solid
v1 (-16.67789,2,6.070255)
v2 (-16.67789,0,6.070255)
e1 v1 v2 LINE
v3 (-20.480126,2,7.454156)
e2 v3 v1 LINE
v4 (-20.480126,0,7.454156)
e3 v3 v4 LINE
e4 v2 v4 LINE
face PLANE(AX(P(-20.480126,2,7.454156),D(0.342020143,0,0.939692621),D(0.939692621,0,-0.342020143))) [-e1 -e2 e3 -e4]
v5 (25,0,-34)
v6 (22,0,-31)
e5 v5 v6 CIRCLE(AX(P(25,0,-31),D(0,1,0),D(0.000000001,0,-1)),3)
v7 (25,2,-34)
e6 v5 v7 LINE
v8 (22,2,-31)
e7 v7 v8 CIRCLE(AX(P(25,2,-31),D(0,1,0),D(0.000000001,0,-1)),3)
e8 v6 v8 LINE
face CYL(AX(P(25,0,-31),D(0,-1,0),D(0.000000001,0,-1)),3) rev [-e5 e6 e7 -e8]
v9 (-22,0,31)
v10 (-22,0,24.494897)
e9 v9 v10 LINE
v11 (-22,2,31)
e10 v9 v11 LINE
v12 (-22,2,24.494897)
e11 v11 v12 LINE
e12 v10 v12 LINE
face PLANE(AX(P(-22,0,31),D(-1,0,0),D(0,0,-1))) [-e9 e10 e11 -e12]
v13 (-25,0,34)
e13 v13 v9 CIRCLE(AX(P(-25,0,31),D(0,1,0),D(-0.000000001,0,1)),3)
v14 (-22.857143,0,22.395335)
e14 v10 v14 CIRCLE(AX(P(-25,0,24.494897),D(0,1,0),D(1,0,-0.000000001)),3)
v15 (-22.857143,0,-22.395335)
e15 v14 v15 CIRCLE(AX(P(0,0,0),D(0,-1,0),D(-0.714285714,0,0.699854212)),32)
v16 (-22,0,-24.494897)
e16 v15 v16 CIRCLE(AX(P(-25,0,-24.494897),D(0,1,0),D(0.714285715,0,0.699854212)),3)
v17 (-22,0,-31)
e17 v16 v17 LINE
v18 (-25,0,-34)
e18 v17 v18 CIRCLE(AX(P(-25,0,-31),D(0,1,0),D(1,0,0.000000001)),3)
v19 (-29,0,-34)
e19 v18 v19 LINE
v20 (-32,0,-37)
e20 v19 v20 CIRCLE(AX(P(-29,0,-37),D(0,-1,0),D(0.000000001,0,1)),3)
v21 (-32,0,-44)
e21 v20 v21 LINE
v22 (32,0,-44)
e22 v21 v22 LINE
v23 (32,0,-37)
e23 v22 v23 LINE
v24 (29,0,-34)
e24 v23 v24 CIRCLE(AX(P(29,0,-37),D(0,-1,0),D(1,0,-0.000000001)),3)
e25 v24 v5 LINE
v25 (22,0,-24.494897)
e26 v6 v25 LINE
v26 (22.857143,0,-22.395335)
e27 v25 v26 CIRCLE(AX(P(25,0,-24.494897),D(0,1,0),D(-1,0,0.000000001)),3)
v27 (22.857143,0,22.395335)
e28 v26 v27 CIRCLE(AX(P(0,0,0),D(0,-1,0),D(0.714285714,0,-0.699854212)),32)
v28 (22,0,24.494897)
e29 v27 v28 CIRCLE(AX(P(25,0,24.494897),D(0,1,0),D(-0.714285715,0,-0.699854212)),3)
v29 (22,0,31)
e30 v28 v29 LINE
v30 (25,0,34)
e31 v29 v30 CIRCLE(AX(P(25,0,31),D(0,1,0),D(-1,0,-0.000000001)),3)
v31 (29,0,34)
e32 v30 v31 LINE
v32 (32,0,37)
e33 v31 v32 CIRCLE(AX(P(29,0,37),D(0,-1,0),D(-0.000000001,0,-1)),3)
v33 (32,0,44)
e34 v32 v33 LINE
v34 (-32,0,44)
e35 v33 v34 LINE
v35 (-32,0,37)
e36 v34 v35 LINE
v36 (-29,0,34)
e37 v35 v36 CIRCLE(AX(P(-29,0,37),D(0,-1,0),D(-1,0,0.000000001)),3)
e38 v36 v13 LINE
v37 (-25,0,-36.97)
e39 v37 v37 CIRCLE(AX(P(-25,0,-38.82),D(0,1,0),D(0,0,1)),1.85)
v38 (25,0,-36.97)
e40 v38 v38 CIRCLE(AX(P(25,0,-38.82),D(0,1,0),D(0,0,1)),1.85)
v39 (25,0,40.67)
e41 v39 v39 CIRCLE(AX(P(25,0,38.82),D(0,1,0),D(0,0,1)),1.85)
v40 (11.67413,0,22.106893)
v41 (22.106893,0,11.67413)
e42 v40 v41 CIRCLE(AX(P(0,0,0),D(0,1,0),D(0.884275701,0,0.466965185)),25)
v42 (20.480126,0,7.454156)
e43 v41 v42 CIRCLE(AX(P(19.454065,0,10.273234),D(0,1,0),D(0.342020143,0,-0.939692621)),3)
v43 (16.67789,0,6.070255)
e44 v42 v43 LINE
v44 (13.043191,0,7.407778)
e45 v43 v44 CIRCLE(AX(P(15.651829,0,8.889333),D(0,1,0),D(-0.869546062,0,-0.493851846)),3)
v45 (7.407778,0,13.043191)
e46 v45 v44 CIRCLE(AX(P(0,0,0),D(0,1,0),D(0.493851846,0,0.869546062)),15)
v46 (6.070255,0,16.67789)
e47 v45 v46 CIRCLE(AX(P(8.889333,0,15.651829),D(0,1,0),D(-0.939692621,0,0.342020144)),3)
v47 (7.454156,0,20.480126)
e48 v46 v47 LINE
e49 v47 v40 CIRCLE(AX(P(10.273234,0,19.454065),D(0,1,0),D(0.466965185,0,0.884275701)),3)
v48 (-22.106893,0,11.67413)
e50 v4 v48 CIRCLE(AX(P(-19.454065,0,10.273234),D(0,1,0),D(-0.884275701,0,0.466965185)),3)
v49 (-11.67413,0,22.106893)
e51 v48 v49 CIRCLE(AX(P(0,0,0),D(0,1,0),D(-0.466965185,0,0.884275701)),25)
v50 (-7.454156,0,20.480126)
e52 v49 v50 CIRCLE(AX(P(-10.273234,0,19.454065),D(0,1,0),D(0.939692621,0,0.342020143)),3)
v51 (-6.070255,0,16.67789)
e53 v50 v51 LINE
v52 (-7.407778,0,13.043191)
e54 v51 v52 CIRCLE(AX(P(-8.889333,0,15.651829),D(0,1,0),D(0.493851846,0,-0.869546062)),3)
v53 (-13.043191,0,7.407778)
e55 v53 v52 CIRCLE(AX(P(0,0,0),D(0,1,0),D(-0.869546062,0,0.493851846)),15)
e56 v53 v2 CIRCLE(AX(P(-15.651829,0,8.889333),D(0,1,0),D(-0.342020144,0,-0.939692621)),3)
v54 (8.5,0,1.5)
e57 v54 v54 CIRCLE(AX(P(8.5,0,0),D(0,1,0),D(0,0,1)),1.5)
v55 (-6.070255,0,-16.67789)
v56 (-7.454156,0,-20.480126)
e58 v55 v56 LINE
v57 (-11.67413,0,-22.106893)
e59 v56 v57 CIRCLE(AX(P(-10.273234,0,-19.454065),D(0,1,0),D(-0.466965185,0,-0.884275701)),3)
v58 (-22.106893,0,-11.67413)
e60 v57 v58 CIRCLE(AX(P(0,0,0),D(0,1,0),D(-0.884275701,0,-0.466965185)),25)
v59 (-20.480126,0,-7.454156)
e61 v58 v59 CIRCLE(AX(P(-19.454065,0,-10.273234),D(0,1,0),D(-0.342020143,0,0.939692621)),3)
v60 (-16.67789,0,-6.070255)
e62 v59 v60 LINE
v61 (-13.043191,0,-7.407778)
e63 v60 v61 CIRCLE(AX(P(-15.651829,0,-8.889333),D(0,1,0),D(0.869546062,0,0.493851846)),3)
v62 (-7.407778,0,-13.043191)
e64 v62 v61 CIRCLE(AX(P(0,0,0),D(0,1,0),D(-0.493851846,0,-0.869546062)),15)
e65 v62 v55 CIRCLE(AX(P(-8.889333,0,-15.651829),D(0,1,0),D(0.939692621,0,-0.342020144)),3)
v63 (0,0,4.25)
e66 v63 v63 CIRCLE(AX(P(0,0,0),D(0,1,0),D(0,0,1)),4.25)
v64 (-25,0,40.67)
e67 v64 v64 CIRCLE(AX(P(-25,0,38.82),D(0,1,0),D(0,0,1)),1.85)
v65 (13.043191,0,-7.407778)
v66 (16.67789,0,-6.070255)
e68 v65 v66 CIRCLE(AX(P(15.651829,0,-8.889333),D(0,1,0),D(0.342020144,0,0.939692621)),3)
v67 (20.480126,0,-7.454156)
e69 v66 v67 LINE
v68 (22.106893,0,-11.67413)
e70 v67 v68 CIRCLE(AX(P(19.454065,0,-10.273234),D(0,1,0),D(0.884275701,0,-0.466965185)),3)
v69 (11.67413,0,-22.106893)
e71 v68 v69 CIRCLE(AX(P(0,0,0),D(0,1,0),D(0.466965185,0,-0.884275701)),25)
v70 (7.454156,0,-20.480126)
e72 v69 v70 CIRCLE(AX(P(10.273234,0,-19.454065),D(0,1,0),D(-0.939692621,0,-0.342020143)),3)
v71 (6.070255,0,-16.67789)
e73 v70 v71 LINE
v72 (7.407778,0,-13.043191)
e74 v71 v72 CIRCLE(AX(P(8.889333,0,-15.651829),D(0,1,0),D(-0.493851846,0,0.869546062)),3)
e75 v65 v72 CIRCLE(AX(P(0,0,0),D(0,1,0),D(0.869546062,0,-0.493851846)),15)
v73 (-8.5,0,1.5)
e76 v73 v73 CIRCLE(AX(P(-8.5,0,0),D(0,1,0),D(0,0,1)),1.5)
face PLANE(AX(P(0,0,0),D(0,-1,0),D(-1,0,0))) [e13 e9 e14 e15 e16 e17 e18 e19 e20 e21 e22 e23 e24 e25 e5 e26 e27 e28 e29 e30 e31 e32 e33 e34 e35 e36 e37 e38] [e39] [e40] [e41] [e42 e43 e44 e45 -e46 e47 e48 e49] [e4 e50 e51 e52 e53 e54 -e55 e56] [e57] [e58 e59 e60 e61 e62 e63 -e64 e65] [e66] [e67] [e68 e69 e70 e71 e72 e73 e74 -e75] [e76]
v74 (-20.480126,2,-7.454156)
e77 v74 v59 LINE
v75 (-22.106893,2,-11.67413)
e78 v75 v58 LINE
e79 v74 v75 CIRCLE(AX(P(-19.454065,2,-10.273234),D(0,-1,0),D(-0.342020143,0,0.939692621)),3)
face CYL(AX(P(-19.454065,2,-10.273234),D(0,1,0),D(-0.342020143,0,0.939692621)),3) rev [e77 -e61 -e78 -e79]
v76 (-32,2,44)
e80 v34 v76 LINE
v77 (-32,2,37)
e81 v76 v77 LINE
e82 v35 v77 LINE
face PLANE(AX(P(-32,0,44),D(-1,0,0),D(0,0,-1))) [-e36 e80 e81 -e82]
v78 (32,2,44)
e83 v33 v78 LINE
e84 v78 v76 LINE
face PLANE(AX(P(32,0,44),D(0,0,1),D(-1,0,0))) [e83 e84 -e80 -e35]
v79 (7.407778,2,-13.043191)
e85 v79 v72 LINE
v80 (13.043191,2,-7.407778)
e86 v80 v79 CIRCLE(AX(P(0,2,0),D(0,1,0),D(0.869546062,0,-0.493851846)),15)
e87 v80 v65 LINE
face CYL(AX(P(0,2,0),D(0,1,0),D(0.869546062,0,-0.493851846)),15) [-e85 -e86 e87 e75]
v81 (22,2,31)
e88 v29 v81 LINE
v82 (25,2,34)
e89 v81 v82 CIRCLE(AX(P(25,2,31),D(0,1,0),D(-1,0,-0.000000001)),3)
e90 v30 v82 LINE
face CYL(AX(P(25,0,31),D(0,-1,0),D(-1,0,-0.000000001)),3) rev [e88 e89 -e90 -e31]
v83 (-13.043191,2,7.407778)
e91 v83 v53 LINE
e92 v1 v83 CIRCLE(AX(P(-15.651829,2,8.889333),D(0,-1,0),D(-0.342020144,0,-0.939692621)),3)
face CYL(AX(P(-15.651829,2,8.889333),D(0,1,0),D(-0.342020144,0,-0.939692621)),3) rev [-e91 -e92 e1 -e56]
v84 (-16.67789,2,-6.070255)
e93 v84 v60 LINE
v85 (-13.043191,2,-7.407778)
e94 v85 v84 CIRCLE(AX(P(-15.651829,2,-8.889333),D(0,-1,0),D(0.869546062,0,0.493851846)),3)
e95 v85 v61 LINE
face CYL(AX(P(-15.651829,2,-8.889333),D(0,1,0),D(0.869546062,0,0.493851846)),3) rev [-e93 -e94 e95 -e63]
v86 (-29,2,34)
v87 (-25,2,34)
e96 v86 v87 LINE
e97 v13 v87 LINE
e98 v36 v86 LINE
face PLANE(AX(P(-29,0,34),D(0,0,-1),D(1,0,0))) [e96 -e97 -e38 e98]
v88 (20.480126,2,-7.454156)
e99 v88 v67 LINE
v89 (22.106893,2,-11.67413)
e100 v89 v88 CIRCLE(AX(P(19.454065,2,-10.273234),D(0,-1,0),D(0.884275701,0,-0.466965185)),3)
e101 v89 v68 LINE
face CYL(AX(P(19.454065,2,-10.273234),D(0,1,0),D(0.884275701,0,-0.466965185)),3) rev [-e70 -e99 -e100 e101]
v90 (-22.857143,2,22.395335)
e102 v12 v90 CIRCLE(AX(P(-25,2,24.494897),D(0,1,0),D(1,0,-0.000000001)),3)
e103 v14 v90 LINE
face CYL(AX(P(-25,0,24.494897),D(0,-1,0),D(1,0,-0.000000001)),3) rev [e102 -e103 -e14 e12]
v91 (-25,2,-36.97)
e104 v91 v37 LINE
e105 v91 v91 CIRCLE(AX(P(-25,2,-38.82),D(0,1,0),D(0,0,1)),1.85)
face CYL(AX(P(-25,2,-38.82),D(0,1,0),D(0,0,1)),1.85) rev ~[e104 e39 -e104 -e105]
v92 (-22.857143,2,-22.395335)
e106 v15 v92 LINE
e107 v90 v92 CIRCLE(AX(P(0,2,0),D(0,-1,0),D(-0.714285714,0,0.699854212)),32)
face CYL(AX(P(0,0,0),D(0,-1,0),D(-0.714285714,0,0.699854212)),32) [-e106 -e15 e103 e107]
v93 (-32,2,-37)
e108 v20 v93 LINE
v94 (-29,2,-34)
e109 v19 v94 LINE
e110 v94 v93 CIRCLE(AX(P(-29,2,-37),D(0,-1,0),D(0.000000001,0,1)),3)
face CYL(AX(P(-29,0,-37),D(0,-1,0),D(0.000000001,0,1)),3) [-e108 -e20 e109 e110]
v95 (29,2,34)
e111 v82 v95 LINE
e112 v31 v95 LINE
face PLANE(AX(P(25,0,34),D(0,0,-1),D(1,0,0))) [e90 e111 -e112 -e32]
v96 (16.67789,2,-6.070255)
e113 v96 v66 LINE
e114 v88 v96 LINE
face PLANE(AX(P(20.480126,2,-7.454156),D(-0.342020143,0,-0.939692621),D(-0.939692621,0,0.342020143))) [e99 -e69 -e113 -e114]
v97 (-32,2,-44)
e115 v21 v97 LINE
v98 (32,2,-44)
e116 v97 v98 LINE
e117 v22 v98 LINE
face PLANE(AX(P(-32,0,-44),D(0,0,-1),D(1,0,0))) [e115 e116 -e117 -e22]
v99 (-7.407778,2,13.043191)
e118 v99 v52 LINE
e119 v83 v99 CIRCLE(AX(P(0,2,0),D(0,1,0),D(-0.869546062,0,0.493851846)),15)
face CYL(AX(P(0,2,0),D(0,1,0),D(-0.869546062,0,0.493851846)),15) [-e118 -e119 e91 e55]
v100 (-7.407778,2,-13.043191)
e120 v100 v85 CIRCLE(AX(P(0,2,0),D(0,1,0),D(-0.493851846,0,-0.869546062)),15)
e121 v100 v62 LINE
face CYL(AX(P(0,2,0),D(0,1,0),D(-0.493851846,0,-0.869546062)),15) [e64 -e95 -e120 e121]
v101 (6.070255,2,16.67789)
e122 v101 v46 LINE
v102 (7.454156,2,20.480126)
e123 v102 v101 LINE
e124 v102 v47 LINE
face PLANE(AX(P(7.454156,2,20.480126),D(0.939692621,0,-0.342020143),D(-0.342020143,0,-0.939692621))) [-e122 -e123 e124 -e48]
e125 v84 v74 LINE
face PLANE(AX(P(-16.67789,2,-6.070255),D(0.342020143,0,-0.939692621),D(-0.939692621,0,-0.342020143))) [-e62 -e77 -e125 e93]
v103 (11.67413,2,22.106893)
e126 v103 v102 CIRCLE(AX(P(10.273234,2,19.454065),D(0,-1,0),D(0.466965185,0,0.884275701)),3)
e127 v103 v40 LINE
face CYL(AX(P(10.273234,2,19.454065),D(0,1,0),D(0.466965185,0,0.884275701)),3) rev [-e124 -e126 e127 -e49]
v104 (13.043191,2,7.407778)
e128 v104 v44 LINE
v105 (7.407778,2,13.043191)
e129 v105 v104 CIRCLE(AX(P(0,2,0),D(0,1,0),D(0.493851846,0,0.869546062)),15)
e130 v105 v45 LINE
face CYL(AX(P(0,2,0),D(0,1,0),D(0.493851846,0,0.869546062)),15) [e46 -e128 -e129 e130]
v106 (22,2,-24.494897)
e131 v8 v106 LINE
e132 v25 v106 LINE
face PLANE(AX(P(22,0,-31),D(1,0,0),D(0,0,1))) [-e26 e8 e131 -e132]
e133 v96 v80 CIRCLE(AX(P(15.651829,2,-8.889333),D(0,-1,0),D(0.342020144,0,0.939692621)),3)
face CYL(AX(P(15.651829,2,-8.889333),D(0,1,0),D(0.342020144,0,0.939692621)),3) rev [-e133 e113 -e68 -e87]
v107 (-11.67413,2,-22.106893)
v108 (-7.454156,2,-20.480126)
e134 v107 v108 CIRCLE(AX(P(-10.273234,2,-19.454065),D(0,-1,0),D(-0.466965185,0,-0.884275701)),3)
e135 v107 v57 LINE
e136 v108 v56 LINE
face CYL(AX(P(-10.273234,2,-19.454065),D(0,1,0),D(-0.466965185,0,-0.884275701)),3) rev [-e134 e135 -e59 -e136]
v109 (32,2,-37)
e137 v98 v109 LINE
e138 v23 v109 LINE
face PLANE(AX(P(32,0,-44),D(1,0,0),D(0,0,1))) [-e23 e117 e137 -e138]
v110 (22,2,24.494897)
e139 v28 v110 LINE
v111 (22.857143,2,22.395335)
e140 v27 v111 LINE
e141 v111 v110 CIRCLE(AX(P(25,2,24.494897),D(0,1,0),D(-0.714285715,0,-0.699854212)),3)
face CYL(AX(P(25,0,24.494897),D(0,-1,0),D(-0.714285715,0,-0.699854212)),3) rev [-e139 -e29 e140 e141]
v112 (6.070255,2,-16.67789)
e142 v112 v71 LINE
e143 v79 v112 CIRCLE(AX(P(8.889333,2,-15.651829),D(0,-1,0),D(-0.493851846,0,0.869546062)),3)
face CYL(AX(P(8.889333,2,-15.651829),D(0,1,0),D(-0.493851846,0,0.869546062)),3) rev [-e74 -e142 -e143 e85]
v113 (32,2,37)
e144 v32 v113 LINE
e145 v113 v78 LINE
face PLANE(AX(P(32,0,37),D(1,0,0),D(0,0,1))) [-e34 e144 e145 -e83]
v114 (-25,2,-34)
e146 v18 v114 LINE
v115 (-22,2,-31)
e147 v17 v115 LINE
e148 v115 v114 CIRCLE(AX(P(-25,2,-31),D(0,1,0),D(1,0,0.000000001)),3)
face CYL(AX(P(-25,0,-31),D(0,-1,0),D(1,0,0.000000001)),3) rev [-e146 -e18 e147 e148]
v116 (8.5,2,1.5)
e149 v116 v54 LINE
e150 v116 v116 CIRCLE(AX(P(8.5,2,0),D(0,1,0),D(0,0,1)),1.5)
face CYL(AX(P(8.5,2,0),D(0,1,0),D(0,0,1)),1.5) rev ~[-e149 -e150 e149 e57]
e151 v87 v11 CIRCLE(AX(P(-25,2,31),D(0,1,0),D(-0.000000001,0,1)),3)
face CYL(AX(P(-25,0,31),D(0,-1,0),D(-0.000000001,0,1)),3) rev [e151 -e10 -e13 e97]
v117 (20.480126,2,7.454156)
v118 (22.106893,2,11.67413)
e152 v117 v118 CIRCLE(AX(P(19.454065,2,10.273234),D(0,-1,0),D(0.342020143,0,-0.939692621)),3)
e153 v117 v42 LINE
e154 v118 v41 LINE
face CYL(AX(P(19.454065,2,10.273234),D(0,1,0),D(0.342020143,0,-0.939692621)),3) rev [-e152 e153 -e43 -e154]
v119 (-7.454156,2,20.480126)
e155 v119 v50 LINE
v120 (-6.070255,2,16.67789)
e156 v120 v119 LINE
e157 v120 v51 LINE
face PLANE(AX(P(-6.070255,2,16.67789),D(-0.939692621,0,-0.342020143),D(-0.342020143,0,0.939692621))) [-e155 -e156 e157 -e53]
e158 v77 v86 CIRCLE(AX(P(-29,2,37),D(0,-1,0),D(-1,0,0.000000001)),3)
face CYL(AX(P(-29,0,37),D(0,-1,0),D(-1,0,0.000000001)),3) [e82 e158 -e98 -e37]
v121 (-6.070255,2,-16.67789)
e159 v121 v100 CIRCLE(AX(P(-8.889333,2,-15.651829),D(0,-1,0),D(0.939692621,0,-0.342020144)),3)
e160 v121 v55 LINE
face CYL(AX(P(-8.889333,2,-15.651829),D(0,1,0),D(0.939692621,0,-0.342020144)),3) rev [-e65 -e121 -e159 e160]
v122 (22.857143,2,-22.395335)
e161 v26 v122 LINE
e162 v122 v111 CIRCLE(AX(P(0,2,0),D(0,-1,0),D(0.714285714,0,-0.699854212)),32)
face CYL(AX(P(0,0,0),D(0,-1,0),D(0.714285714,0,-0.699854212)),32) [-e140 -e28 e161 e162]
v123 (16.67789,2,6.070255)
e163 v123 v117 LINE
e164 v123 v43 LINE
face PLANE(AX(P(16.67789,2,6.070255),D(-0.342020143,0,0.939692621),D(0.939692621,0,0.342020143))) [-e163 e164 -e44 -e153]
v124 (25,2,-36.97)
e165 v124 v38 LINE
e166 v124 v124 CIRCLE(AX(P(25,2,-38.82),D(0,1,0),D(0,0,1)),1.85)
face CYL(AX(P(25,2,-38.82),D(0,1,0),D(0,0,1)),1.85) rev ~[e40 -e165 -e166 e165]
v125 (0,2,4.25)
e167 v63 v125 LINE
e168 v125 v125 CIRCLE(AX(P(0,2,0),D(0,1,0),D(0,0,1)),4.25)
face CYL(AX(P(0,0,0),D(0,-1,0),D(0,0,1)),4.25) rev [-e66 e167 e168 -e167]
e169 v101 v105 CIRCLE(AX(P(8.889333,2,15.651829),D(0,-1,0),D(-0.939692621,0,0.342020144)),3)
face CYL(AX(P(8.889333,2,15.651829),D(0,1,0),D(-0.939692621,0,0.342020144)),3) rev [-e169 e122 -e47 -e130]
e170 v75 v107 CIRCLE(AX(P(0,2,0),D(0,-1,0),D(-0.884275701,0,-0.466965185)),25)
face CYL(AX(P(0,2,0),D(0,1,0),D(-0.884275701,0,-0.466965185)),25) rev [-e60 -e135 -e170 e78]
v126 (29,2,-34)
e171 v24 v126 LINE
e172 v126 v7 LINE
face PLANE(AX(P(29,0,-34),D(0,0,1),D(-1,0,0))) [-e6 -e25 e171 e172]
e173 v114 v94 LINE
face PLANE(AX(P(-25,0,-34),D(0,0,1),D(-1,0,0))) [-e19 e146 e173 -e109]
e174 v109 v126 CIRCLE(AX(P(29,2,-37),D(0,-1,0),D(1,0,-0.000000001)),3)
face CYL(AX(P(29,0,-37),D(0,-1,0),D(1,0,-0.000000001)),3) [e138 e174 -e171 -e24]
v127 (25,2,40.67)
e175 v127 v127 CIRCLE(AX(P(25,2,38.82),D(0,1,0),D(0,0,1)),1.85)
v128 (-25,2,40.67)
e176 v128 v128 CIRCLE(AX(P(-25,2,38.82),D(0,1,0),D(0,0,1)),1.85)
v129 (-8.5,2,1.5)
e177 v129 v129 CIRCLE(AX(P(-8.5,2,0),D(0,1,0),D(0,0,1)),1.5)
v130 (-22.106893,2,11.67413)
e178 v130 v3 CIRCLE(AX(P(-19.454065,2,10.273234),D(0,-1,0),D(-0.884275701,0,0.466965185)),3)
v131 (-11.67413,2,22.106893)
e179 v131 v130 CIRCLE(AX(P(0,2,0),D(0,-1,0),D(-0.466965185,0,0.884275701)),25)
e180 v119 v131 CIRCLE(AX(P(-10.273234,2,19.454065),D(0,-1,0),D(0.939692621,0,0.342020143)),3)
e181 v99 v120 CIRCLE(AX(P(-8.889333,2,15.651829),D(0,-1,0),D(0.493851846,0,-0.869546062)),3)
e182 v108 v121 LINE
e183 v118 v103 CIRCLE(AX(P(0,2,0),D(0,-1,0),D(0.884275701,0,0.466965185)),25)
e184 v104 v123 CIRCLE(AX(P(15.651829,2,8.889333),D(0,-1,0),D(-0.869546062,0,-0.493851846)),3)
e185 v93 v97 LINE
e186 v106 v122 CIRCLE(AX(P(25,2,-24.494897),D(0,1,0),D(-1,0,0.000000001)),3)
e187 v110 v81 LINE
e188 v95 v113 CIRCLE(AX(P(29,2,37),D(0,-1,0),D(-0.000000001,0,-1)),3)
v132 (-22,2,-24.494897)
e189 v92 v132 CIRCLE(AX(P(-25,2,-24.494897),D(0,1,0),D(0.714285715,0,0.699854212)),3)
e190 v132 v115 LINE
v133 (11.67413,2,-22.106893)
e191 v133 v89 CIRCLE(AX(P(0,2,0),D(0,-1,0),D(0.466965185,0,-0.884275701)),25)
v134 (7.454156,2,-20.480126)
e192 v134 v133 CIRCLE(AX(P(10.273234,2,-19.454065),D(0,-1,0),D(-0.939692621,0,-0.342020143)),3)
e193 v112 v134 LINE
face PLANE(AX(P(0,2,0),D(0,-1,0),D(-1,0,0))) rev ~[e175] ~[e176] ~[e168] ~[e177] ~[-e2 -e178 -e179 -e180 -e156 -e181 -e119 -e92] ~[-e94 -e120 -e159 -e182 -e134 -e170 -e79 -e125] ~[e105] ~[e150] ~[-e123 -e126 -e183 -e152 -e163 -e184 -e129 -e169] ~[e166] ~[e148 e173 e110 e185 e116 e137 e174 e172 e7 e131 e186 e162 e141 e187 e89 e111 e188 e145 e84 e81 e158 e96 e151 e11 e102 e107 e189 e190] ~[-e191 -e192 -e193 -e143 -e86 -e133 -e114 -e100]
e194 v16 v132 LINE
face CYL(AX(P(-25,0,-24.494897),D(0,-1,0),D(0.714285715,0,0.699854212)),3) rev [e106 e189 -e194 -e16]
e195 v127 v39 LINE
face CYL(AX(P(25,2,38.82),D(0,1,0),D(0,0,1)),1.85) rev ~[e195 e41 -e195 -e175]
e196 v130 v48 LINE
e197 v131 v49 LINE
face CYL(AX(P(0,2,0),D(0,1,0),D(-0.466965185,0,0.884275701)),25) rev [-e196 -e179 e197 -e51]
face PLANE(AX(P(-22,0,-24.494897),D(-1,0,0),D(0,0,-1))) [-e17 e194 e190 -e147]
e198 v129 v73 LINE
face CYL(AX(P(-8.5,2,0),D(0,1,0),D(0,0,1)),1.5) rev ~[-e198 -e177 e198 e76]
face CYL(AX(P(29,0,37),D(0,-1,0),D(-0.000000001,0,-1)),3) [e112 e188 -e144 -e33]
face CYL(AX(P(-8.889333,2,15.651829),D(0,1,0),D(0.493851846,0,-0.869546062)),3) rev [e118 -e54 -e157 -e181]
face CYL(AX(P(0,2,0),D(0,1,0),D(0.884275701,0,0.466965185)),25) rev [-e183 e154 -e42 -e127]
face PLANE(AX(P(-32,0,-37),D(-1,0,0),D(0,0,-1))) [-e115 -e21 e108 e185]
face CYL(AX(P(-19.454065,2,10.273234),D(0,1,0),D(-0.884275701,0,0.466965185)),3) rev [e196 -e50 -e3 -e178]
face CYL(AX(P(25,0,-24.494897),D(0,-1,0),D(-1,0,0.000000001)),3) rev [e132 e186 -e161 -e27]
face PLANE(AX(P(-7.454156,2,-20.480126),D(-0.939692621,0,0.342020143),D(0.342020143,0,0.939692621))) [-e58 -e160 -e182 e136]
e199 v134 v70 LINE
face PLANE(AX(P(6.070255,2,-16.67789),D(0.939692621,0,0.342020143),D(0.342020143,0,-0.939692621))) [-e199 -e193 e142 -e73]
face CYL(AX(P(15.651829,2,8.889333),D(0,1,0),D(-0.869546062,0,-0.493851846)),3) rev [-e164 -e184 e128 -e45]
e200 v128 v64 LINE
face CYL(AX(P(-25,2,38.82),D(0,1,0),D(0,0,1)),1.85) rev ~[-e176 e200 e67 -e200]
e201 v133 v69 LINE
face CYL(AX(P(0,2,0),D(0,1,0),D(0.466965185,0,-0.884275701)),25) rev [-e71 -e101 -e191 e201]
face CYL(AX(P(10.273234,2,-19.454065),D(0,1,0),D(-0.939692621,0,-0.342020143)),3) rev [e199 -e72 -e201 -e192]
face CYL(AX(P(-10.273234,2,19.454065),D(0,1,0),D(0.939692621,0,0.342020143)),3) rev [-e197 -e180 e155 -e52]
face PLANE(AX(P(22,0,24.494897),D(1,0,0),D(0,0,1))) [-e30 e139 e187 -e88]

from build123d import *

# Parameters (mm, degrees)
SKETCH1_R           = 4.25
BOSS_EXTRUDE1_DEPTH = 2
CUT_EXTRUDE1_DEPTH  = 5
CIRPATTERN1_COUNT   = 4
SKETCH3_R           = 1.5
CUT_EXTRUDE2_DEPTH  = 5
SKETCH5_R           = 1.85
CUT_EXTRUDE3_DEPTH  = 5


with BuildPart() as part:
    # Sketch1 → Boss-Extrude1 (new body)
    with BuildSketch(Plane(origin=(0, 0, 0), x_dir=(1, 0, 0), z_dir=(0, 1, 0))):
        with BuildLine():
            Line((-29, -34), (-25, -34))
            ThreePointArc((-25, -34), (-22.878679656, -33.121320344), (-22, -31))
            Line((-22, -31), (-22, -24.494897428))
            ThreePointArc((-22, -24.494897428), (-22.222539701, -23.361004009), (-22.857142857, -22.395334791))
            ThreePointArc((-22.857142857, -22.395334791), (-32, 0), (-22.857142857, 22.395334791))
            ThreePointArc((-22.857142857, 22.395334791), (-22.222539701, 23.361004009), (-22, 24.494897428))
            Line((-22, 24.494897428), (-22, 31))
            ThreePointArc((-22, 31), (-22.878679656, 33.121320344), (-25, 34))
            Line((-25, 34), (-29, 34))
            ThreePointArc((-29, 34), (-31.121320344, 34.878679656), (-32, 37))
            Line((-32, 37), (-32, 44))
            Line((-32, 44), (32, 44))
            Line((32, 44), (32, 37))
            ThreePointArc((32, 37), (31.121320344, 34.878679656), (29, 34))
            Line((29, 34), (25, 34))
            ThreePointArc((25, 34), (22.878679656, 33.121320344), (22, 31))
            Line((22, 31), (22, 24.494897428))
            ThreePointArc((22, 24.494897428), (22.222539701, 23.361004009), (22.857142857, 22.395334791))
            ThreePointArc((22.857142857, 22.395334791), (32, 0), (22.857142857, -22.395334791))
            ThreePointArc((22.857142857, -22.395334791), (22.222539701, -23.361004009), (22, -24.494897428))
            Line((22, -24.494897428), (22, -31))
            ThreePointArc((22, -31), (22.878679656, -33.121320344), (25, -34))
            Line((25, -34), (29, -34))
            ThreePointArc((29, -34), (31.121320344, -34.878679656), (32, -37))
            Line((32, -37), (32, -44))
            Line((32, -44), (-32, -44))
            Line((-32, -44), (-32, -37))
            ThreePointArc((-32, -37), (-31.121320344, -34.878679656), (-29, -34))
        make_face()
        with Locations(Location((0, 0, 0), (0, 0, 270))):
            Circle(SKETCH1_R, mode=Mode.SUBTRACT)
    extrude(amount=BOSS_EXTRUDE1_DEPTH)

    # Sketch2 → Cut-Extrude1 (cut)
    with BuildSketch(Plane(origin=(0, 2, 0), x_dir=(1, 0, 0), z_dir=(0, 1, 0))):
        with BuildLine():
            ThreePointArc((-11.674129624, 22.106892534), (-9.194159134, 22.25327912), (-7.454156207, 20.48012586))
            Line((-7.454156207, 20.48012586), (-6.070255366, 16.677889548))
            ThreePointArc((-6.070255366, 16.677889548), (-6.073907786, 14.615788781), (-7.40777769, 13.043190932))
            ThreePointArc((-7.40777769, 13.043190932), (-10.606601718, 10.606601718), (-13.043190932, 7.40777769))
            ThreePointArc((-13.043190932, 7.40777769), (-14.615788781, 6.073907786), (-16.677889548, 6.070255366))
            Line((-16.677889548, 6.070255366), (-20.48012586, 7.454156207))
            ThreePointArc((-20.48012586, 7.454156207), (-22.25327912, 9.194159134), (-22.106892534, 11.674129624))
            ThreePointArc((-22.106892534, 11.674129624), (-17.67766953, 17.67766953), (-11.674129624, 22.106892534))
        make_face()
    cut_extrude1 = extrude(amount=-CUT_EXTRUDE1_DEPTH, mode=Mode.SUBTRACT)

    # CirPattern1: Cut-Extrude1 ×4 about axis
    cirpattern1_axis = Axis((0, 0, 0), (0, 1, 0))
    for i in range(1, CIRPATTERN1_COUNT):
        add(cut_extrude1.rotate(cirpattern1_axis, i * 360 / CIRPATTERN1_COUNT), mode=Mode.SUBTRACT)

    # Sketch3 → Cut-Extrude2 (cut)
    with BuildSketch(Plane(origin=(0, 2, 0), x_dir=(1, 0, 0), z_dir=(0, 1, 0))):
        with Locations(Location((-8.5, 0, 0), (0, 0, 270))):
            Circle(SKETCH3_R)
        with Locations(Location((8.5, 0, 0), (0, 0, 270))):
            Circle(SKETCH3_R)
    extrude(amount=-CUT_EXTRUDE2_DEPTH, mode=Mode.SUBTRACT)

    # Sketch5 → Cut-Extrude3 (cut)
    with BuildSketch(Plane(origin=(0, 2, 0), x_dir=(1, 0, 0), z_dir=(0, 1, 0))):
        with Locations(Location((25, 38.82, 0), (0, 0, 270))):
            Circle(SKETCH5_R)
        with Locations(Location((-25, 38.82, 0), (0, 0, 270))):
            Circle(SKETCH5_R)
        with Locations(Location((-25, -38.82, 0), (0, 0, 270))):
            Circle(SKETCH5_R)
        with Locations(Location((25, -38.82, 0), (0, 0, 270))):
            Circle(SKETCH5_R)
    extrude(amount=-CUT_EXTRUDE3_DEPTH, mode=Mode.SUBTRACT)


solid = part.part
